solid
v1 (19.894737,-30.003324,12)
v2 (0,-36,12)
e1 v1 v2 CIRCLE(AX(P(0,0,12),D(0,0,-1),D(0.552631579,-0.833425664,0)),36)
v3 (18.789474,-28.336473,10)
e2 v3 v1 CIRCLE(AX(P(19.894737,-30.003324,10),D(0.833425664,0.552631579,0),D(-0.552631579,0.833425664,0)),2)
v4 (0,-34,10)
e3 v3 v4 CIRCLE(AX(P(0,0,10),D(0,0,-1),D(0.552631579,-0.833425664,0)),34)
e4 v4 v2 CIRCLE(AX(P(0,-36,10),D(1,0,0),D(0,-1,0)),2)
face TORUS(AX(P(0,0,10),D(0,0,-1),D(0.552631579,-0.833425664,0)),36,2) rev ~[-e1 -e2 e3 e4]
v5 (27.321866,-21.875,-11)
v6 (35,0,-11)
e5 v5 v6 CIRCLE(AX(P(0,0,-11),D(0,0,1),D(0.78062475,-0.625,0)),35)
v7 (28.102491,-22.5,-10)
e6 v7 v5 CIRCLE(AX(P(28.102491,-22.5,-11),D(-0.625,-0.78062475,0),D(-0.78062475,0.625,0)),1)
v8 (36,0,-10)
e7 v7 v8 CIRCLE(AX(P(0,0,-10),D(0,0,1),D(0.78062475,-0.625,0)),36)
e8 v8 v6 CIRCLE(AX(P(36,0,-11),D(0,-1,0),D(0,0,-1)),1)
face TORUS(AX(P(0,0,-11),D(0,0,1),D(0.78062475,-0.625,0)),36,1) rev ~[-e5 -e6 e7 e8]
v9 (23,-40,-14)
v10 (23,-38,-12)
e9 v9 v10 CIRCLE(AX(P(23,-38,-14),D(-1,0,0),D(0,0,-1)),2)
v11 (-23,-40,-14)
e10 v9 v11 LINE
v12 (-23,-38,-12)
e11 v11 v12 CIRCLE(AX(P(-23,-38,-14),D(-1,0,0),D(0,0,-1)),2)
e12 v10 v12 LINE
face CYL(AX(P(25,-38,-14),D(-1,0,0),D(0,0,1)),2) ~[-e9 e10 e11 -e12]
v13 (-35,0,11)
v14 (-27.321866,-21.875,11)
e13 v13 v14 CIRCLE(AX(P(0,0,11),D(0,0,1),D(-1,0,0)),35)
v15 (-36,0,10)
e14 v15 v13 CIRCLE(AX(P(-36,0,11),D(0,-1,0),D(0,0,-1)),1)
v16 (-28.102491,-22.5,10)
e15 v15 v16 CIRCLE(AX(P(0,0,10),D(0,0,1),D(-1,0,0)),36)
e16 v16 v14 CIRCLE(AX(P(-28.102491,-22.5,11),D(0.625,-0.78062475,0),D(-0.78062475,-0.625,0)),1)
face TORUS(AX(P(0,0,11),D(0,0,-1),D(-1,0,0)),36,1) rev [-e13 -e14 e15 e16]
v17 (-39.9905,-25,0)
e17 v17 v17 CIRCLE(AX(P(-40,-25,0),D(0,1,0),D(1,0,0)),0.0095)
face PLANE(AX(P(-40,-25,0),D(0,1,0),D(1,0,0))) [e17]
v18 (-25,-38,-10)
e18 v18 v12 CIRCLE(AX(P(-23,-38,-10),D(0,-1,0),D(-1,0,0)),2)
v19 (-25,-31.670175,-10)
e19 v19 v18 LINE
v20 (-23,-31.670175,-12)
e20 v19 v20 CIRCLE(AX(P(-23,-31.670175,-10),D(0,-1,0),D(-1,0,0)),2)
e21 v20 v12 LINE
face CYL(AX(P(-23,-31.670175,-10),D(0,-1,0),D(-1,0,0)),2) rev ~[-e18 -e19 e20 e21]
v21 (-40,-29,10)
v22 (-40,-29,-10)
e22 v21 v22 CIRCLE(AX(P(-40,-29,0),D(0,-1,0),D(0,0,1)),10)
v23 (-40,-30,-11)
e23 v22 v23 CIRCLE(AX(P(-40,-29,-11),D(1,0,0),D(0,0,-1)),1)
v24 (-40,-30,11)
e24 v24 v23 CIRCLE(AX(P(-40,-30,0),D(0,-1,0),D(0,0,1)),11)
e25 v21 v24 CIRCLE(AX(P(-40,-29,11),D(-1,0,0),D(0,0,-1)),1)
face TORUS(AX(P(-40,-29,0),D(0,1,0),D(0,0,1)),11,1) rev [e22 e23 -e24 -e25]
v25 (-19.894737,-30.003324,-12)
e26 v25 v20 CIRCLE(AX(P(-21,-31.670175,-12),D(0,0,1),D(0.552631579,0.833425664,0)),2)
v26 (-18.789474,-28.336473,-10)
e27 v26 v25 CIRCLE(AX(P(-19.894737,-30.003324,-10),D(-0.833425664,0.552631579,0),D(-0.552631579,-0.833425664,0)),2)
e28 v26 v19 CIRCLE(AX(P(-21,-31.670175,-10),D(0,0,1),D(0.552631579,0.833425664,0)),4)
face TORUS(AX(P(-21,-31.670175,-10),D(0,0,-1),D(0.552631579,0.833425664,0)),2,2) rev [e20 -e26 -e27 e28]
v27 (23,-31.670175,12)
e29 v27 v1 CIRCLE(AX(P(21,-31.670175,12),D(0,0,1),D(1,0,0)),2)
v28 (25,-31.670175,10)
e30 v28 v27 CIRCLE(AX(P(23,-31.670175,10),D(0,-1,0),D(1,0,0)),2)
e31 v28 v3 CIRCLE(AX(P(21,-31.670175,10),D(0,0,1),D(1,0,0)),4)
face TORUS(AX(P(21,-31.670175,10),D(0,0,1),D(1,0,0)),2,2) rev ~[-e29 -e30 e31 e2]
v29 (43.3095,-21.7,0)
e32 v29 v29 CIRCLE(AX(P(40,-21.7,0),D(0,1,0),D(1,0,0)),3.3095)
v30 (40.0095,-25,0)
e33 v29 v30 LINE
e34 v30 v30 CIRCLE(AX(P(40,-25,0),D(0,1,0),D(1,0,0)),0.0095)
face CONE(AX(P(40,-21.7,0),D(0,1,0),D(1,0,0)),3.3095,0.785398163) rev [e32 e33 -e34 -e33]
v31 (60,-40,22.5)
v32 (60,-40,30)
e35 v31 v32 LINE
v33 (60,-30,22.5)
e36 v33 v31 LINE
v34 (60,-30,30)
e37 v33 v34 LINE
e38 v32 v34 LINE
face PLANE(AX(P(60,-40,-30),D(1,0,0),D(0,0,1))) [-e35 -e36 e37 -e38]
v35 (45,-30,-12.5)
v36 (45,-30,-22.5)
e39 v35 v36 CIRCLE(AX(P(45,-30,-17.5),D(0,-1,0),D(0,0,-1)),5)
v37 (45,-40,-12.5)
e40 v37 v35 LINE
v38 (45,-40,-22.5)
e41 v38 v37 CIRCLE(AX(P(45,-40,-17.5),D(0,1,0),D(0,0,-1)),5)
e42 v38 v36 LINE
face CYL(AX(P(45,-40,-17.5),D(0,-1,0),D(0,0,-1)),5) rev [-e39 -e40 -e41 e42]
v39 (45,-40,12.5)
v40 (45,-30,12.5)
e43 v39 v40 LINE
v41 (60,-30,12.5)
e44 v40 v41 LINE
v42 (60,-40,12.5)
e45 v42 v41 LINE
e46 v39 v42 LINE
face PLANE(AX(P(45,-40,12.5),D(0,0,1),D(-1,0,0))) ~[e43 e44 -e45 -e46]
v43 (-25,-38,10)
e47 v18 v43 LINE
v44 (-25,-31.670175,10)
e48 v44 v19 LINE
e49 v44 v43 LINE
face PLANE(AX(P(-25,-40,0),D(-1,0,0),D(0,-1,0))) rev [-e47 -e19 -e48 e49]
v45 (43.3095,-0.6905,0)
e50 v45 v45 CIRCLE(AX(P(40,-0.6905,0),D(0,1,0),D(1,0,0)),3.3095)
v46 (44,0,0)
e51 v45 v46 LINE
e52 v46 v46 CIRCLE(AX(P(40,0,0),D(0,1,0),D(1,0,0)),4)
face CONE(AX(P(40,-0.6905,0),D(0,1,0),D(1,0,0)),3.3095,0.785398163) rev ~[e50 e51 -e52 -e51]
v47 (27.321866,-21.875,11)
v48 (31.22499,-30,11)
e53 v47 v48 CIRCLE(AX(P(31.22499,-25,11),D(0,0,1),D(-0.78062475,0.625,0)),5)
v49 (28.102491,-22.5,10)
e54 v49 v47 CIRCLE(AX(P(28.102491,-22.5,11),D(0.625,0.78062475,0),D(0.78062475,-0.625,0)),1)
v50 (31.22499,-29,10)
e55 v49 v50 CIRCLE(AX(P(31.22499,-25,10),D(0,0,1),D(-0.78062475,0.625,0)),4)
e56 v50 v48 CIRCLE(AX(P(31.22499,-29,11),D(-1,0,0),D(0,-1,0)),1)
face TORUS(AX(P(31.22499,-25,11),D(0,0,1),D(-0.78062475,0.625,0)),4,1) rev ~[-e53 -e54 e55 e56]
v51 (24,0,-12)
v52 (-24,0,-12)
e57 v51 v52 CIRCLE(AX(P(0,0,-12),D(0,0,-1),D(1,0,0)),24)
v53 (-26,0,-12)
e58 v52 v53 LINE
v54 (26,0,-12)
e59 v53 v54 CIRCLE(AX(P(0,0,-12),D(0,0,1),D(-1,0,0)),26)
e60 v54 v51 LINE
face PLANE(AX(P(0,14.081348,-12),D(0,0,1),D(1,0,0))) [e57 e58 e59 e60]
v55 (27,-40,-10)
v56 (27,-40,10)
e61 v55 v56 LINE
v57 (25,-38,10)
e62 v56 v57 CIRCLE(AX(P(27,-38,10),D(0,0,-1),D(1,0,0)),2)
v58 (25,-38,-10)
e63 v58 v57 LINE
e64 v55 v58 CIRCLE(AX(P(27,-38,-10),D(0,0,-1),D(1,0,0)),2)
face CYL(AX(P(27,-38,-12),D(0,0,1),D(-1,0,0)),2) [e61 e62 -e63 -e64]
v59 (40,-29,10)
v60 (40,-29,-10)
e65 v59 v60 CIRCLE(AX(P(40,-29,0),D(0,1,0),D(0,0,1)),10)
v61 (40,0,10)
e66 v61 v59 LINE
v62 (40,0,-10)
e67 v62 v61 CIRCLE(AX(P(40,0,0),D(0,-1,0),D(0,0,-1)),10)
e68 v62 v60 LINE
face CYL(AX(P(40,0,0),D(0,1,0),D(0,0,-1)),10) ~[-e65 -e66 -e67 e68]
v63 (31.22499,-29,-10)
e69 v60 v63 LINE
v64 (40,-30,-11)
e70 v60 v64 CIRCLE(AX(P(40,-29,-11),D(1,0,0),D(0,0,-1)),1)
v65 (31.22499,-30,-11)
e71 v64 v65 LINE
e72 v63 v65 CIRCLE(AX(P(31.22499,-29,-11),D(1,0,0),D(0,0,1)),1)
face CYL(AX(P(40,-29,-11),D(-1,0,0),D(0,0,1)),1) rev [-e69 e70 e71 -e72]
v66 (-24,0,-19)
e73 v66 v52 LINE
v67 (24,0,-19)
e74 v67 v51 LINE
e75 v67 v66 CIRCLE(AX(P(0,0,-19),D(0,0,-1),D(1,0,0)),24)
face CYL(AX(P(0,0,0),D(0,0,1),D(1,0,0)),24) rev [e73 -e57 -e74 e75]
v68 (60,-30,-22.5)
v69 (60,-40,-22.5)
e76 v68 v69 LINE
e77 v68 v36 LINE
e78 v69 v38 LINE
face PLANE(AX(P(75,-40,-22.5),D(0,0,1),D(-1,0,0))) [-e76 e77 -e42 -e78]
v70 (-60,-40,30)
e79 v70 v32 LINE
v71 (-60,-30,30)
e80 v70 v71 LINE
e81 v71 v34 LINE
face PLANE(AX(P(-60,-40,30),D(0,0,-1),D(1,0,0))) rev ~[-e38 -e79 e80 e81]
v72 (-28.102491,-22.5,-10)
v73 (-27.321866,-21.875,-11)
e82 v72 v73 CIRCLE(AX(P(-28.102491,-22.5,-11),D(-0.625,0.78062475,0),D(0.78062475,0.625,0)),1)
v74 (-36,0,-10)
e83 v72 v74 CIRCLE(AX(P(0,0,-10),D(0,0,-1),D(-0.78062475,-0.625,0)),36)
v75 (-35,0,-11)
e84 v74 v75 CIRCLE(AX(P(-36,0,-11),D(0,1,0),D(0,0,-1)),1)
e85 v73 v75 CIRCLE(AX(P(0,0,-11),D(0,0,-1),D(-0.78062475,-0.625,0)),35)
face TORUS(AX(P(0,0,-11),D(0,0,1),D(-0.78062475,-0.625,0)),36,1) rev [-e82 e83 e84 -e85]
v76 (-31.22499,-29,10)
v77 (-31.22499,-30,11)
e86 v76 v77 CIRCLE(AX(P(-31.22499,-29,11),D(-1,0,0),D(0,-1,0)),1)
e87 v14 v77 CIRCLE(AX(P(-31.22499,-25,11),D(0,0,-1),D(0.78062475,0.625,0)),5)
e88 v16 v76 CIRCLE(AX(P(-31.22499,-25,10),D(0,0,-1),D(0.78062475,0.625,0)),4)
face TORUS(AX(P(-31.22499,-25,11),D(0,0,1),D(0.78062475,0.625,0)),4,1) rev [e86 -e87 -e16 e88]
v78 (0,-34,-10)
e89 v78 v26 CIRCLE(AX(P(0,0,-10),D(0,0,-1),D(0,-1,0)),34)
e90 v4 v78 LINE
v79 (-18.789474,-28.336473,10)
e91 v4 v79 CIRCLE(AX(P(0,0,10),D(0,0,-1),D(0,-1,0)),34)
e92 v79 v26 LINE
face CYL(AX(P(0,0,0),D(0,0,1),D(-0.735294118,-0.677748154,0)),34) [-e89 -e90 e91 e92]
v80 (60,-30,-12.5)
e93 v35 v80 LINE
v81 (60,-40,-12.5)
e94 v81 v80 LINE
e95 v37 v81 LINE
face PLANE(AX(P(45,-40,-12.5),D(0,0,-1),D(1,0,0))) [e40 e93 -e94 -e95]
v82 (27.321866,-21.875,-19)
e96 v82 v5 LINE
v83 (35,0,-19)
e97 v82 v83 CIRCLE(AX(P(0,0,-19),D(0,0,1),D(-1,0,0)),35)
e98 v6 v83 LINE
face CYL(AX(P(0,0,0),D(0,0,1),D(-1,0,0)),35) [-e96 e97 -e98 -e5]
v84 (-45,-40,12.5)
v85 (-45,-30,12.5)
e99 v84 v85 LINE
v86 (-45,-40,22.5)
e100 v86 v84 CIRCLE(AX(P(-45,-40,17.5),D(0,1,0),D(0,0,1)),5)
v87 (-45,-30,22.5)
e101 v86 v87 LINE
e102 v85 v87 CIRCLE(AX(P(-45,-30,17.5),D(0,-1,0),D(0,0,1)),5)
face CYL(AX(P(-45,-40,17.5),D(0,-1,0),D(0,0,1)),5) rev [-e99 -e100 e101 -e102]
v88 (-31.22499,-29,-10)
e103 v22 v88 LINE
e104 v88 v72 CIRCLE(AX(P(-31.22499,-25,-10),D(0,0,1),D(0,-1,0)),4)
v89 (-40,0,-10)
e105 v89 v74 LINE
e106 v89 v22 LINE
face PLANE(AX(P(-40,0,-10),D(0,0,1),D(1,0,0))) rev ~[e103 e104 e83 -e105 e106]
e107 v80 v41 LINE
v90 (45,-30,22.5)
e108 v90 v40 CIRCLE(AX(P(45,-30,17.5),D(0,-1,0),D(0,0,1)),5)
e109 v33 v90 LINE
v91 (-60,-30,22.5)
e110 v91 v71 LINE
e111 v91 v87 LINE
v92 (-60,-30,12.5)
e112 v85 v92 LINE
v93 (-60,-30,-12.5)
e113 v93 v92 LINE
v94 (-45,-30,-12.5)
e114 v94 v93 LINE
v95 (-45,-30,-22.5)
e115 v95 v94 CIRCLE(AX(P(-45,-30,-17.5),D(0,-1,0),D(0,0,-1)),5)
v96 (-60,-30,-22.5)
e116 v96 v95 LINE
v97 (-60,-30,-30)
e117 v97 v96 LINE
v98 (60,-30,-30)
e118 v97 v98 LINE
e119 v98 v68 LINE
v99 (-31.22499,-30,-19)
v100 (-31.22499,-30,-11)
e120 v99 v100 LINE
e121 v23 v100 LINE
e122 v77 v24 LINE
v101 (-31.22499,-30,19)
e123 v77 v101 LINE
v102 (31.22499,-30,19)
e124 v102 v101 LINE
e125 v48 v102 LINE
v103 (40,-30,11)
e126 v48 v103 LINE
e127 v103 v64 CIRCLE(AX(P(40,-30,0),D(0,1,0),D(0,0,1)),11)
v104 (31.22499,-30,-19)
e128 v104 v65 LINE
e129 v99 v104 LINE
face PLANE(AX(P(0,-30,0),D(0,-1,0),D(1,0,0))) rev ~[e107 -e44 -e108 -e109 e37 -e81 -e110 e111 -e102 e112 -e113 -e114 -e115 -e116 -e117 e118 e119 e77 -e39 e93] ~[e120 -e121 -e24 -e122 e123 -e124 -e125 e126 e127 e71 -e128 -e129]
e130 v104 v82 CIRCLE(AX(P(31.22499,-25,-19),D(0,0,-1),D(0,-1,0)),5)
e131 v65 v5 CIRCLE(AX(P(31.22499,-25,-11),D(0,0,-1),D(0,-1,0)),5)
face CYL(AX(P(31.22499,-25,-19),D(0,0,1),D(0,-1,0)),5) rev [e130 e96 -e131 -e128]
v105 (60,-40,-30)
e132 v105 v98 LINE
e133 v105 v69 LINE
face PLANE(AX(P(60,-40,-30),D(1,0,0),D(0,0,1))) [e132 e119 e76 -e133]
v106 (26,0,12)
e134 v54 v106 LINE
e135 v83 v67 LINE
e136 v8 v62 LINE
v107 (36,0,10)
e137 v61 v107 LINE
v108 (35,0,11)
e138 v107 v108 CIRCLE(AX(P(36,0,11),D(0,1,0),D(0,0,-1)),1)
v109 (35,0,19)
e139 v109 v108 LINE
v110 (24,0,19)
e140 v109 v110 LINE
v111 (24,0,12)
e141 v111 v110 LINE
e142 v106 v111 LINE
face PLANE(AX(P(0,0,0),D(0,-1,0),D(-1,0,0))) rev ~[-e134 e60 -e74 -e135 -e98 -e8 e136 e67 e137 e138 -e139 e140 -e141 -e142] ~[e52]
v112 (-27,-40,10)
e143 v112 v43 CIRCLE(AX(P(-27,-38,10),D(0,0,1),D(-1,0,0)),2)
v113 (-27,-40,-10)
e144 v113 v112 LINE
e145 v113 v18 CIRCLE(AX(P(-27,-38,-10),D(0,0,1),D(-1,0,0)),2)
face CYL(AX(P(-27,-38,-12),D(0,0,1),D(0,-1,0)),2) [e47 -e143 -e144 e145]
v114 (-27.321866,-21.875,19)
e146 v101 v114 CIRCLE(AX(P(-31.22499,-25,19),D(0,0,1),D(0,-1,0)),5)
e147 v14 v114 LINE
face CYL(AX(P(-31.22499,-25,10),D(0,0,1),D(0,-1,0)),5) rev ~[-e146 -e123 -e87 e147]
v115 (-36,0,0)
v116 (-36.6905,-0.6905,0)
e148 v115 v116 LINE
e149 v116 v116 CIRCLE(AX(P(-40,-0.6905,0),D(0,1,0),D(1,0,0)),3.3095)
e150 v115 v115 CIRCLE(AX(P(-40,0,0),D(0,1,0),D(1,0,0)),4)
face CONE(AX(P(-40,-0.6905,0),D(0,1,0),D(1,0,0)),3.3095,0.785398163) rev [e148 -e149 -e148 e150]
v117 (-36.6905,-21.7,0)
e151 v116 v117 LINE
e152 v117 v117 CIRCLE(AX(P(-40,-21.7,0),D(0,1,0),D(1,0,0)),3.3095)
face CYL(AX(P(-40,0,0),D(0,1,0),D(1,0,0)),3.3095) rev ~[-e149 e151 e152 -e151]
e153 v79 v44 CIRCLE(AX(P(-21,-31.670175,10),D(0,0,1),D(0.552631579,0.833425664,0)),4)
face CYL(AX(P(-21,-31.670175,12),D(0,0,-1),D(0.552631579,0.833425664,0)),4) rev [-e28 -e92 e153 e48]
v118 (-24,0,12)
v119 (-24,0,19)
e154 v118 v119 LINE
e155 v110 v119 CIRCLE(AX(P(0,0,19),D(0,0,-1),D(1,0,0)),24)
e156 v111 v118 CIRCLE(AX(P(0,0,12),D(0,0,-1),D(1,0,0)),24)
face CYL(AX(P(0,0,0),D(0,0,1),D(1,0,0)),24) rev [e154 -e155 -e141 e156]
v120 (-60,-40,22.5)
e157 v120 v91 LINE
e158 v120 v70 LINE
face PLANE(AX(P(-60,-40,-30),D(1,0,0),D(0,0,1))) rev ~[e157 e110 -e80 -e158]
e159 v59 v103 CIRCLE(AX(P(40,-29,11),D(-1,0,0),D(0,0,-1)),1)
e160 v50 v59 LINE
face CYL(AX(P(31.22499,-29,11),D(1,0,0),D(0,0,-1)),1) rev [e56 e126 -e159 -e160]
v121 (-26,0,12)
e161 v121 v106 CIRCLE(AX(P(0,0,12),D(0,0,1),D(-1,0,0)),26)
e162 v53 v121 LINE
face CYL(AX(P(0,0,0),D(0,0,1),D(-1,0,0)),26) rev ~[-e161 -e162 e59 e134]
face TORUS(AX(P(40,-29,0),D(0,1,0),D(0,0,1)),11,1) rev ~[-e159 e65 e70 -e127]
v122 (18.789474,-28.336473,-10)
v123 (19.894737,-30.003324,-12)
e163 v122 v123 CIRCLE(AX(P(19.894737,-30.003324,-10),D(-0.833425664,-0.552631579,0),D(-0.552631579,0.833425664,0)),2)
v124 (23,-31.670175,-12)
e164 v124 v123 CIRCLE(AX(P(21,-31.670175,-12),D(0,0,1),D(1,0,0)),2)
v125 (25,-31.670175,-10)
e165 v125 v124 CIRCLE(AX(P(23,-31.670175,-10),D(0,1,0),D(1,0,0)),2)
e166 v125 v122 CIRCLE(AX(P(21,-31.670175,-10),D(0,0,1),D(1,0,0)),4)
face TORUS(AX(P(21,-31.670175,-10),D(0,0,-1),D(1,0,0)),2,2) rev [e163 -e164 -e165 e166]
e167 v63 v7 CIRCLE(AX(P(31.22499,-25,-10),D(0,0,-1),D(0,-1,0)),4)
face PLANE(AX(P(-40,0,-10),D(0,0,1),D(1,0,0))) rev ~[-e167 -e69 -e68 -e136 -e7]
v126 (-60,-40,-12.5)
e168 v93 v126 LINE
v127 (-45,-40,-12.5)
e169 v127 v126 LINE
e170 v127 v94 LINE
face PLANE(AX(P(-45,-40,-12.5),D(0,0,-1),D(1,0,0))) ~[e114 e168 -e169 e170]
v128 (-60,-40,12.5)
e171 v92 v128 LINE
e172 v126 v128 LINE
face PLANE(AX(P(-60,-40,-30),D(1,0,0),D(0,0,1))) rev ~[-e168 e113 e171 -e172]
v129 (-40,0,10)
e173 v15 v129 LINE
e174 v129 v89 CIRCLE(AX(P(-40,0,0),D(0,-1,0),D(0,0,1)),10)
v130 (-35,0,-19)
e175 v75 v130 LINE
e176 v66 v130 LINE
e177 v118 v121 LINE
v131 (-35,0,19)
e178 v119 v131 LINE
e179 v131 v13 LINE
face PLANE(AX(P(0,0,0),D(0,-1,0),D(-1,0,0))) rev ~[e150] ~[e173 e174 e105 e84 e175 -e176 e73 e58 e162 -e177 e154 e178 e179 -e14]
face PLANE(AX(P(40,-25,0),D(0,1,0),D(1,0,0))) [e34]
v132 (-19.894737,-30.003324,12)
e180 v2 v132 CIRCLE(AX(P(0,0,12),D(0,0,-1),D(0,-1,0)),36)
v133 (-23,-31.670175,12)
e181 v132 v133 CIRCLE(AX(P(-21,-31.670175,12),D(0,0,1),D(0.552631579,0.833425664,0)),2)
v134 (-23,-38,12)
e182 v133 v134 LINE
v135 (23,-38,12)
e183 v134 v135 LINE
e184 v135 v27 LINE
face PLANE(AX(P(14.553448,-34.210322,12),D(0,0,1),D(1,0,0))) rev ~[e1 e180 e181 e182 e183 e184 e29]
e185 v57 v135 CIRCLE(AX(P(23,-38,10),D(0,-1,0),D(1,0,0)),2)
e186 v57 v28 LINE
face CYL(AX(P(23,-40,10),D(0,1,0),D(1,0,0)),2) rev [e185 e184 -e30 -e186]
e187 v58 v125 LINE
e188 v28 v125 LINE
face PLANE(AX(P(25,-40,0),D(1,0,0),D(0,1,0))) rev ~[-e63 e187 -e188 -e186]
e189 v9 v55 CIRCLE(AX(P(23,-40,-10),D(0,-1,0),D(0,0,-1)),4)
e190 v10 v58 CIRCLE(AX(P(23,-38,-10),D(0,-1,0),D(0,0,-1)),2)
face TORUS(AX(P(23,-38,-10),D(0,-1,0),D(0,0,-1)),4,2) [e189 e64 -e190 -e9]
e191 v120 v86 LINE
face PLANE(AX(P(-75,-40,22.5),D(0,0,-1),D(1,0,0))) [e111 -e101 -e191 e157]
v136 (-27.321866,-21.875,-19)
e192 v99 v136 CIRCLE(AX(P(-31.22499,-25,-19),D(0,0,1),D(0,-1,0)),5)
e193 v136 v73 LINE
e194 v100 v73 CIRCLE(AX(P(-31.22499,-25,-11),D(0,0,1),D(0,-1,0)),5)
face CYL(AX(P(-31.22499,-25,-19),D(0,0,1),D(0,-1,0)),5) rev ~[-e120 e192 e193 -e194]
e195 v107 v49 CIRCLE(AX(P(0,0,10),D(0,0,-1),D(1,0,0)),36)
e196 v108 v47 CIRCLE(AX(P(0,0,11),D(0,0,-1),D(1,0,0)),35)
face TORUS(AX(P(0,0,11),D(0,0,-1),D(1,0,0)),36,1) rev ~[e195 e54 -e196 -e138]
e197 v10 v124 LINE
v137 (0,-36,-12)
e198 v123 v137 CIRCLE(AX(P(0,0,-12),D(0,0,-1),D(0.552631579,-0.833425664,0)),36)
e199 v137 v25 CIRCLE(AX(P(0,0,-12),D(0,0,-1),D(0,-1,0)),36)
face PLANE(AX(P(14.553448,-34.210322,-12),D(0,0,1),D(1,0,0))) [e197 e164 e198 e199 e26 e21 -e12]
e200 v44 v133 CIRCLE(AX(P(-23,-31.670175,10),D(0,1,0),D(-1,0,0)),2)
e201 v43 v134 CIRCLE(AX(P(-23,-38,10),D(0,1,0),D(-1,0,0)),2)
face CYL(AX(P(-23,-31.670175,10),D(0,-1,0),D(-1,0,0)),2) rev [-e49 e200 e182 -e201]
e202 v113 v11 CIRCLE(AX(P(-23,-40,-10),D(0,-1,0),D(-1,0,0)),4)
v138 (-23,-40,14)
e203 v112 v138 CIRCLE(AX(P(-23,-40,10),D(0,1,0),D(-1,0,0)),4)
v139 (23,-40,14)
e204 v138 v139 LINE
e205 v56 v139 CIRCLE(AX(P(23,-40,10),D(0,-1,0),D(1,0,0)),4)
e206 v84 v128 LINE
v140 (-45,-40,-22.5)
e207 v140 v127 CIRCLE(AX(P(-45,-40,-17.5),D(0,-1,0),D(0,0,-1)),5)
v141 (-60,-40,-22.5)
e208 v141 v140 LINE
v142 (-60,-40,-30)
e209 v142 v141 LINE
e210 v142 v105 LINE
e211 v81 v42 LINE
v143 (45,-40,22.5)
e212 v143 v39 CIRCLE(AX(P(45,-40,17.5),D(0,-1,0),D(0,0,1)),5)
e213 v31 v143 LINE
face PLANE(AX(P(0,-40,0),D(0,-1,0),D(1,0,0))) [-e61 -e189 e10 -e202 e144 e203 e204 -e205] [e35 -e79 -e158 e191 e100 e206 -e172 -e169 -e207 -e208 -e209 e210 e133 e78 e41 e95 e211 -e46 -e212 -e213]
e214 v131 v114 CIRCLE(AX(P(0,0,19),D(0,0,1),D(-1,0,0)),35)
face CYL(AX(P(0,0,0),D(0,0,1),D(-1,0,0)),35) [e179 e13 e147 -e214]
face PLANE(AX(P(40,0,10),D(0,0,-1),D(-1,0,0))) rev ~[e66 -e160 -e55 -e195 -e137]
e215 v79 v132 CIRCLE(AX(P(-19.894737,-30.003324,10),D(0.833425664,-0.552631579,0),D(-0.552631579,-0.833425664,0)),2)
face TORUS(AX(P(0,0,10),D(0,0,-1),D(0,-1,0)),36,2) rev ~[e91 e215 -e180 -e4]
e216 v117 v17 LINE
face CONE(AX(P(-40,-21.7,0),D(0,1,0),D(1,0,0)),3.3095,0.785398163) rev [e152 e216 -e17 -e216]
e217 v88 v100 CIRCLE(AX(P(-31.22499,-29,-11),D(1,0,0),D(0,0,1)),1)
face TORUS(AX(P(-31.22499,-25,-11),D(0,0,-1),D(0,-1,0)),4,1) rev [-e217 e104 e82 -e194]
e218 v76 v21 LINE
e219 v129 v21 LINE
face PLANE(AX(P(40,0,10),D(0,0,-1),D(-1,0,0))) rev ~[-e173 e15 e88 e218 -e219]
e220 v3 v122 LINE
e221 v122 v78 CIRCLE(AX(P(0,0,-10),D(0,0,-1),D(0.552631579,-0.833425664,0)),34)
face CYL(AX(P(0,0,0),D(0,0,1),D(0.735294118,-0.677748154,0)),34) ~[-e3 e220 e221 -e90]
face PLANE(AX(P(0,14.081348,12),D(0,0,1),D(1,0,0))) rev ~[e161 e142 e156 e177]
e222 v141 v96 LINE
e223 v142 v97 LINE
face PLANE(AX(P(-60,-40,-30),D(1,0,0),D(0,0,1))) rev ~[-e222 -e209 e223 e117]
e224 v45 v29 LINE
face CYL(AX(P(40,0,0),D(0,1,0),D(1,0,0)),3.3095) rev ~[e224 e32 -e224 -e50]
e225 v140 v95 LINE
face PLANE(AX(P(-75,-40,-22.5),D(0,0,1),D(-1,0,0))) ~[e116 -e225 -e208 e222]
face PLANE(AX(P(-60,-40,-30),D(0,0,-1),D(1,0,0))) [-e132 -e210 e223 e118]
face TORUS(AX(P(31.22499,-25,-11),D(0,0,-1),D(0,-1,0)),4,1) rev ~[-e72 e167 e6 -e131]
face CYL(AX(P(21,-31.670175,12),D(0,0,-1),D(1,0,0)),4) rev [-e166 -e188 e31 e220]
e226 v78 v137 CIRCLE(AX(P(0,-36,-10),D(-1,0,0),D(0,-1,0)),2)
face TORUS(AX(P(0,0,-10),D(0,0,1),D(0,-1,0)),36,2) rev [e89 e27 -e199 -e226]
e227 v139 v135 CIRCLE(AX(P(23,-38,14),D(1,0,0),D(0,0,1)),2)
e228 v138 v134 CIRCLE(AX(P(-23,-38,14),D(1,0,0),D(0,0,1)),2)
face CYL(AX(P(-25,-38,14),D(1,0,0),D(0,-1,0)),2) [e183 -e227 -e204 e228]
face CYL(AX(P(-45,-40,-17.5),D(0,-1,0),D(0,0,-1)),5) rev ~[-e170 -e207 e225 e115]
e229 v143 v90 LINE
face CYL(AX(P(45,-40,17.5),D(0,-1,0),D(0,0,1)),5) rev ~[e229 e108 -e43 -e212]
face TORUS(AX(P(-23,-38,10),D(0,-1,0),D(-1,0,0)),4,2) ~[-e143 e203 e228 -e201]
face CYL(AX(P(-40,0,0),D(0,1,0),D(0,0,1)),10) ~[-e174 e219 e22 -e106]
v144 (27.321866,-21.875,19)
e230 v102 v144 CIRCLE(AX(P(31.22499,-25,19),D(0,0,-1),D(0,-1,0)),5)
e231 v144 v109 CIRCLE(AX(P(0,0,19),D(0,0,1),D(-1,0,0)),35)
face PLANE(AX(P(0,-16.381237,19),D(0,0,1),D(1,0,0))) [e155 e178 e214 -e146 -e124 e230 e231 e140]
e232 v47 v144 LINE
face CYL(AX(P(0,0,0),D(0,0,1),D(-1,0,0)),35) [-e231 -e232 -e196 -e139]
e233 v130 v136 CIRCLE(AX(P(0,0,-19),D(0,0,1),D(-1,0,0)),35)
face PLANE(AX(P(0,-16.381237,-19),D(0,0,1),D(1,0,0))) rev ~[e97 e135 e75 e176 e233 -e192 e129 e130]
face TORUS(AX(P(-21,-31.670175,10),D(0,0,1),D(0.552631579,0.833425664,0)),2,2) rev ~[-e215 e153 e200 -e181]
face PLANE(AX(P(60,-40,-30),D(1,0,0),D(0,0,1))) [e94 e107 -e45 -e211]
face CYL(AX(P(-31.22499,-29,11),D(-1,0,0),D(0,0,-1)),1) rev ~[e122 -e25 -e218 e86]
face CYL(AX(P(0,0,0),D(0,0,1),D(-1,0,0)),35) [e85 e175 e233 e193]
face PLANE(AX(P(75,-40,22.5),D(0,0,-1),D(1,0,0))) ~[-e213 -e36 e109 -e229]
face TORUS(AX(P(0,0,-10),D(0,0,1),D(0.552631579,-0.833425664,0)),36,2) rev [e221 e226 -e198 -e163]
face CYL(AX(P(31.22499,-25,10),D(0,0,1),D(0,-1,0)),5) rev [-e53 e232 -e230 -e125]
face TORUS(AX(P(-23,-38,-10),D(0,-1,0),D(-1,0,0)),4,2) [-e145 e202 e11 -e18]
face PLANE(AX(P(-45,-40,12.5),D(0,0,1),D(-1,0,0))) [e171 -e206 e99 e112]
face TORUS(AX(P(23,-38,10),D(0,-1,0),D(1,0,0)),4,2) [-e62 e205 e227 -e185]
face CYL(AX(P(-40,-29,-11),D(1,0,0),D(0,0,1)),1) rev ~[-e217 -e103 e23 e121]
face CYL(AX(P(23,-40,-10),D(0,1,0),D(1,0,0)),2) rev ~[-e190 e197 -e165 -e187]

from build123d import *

# Parameters (mm, degrees)
EXTRUDE_2_DEPTH                 = 19
EXTRUDE_5_DEPTH                 = 40
CUT_EXTRUDE_1_REACH             = 68.791
SKETCH_1_4_R                    = 24
CUT_EXTRUDE_1_DIRECTION_2_REACH = 68.791
SKETCH_4_W                      = 120
SKETCH_4_H                      = 60
EXTRUDE_6_DEPTH                 = 10
FILLET_2_R                      = 5
CUT_EXTRUDE_2_DEPTH             = 79.102496759
MIRROR_2_COPY_1_DEPTH           = 79.102496759
MIRROR_2_COPY_2_DEPTH           = 79.102496759
CUT_EXTRUDE_3_DEPTH             = 12
CUT_EXTRUDE_4_DEPTH             = 12
FILLET_3_R                      = 4
FILLET_4_R                      = 2
SKETCH_7_R                      = 3.3095
CUT_EXTRUDE_5_DEPTH             = 25
FILLET_5_R                      = 1
CHAMFER_1_SIZE                  = 3.3
CHAMFER_2_SIZE                  = 0.6905


with BuildPart() as part:
    # Эскиз1 → Бобышка-Вытянуть2 (new, symmetric)
    with BuildSketch(Plane.XY):
        with BuildLine():
            ThreePointArc((24, 0), (0, -24), (-24, 0))
            Line((-24, 0), (-35, 0))
            ThreePointArc((-35, 0), (0, -35), (35, 0))
            Line((35, 0), (24, 0))
        make_face()
    extrude(amount=EXTRUDE_2_DEPTH, both=True)

    # Эскиз2 → Бобышка-Вытянуть5 (add)
    with BuildSketch(Plane(origin=(0, 0, 0), x_dir=(1, 0, 0), z_dir=(0, 1, 0))):
        with BuildLine():
            Line((-40, 10), (40, 10))
            ThreePointArc((40, 10), (50, 0), (40, -10))
            Line((40, -10), (-40, -10))
            ThreePointArc((-40, -10), (-50, 0), (-40, 10))
        make_face()
    extrude(amount=-EXTRUDE_5_DEPTH)

    # Эскиз1<4> → Вырез-Вытянуть1 (cut, up to next)
    with BuildSketch(Plane.XY, mode=Mode.PRIVATE) as cut_extrude_1_sk1:
        Circle(SKETCH_1_4_R)
    cut_extrude_1_tool1 = extrude(cut_extrude_1_sk1.sketch, amount=-CUT_EXTRUDE_1_REACH, mode=Mode.PRIVATE) & part.part
    add(cut_extrude_1_tool1.solids().sort_by_distance((0, 0, 0))[0], mode=Mode.SUBTRACT)

    # Эскиз1<4> → Вырез-Вытянуть1 direction 2 (cut, up to next)
    with BuildSketch(Plane.XY, mode=Mode.PRIVATE) as cut_extrude_1_direction_2_sk1:
        Circle(SKETCH_1_4_R)
    cut_extrude_1_direction_2_tool1 = extrude(cut_extrude_1_direction_2_sk1.sketch, amount=CUT_EXTRUDE_1_DIRECTION_2_REACH, mode=Mode.PRIVATE) & part.part
    add(cut_extrude_1_direction_2_tool1.solids().sort_by_distance((0, 0, 0))[0], mode=Mode.SUBTRACT)

    # Эскиз4 → Бобышка-Вытянуть6 (add)
    with BuildSketch(Plane.XZ.offset(40)):
        Rectangle(SKETCH_4_W, SKETCH_4_H)
    extrude(amount=-EXTRUDE_6_DEPTH)

    # Скругление2
    fillet_2_edges = [part.edges().sort_by_distance(p)[0] for p in [
        (18.027756377, -30, 14.5),
        (18.027756377, -30, -14.5),
        (-18.027756377, -30, -14.5),
        (-18.027756377, -30, 14.5),
    ]]
    fillet(fillet_2_edges, radius=FILLET_2_R)

    # Эскиз5 → Вырез-Вытянуть2 (cut, through all)
    with BuildSketch(Plane.XZ.offset(40)):
        with BuildLine():
            Line((75, -22.5), (45, -22.5))
            ThreePointArc((45, -22.5), (40, -17.5), (45, -12.5))
            Line((45, -12.5), (75, -12.5))
            ThreePointArc((75, -12.5), (80, -17.5), (75, -22.5))
        make_face()
    cut_extrude_2 = extrude(amount=-CUT_EXTRUDE_2_DEPTH, mode=Mode.SUBTRACT)

    # Зеркальное отражение1: Вырез-Вытянуть2 across plane
    add(cut_extrude_2.mirror(Plane.XY), mode=Mode.SUBTRACT)

    # Зеркальное отражение2 copy 1 sketch → Зеркальное отражение2 copy 1 (cut, through all)
    with BuildSketch(Plane(origin=(0, -40, 0), x_dir=(-1, 0, 0), z_dir=(0, -1, 0))):
        with BuildLine():
            Line((75, -22.5), (45, -22.5))
            ThreePointArc((45, -22.5), (40, -17.5), (45, -12.5))
            Line((45, -12.5), (75, -12.5))
            ThreePointArc((75, -12.5), (80, -17.5), (75, -22.5))
        make_face()
    extrude(amount=-MIRROR_2_COPY_1_DEPTH, mode=Mode.SUBTRACT)

    # Зеркальное отражение2 copy 2 sketch → Зеркальное отражение2 copy 2 (cut, through all)
    with BuildSketch(Plane(origin=(0, -40, 0), x_dir=(-1, 0, 0), z_dir=(0, -1, 0))):
        with BuildLine():
            Line((75, 22.5), (45, 22.5))
            ThreePointArc((45, 22.5), (40, 17.5), (45, 12.5))
            Line((45, 12.5), (75, 12.5))
            ThreePointArc((75, 12.5), (80, 17.5), (75, 22.5))
        make_face()
    extrude(amount=-MIRROR_2_COPY_2_DEPTH, mode=Mode.SUBTRACT)

    # Эскиз1<5> → Вырез-Вытянуть3 (cut, symmetric)
    with BuildSketch(Plane.XY):
        with BuildLine():
            Line((26, 0), (24, 0))
            ThreePointArc((24, 0), (0, -24), (-24, 0))
            Line((-24, 0), (-26, 0))
            ThreePointArc((-26, 0), (0, -26), (26, 0))
        make_face()
    extrude(amount=CUT_EXTRUDE_3_DEPTH, both=True, mode=Mode.SUBTRACT)

    # Эскиз6 → Вырез-Вытянуть4 (cut, symmetric)
    with BuildSketch(Plane.XY):
        with BuildLine():
            Line((0, -34), (0, -40))
            Line((0, -40), (25, -40))
            Line((25, -40), (25, -23.043437244))
            ThreePointArc((25, -23.043437244), (13.647767834, -31.140623519), (0, -34))
        make_face()
    cut_extrude_4 = extrude(amount=CUT_EXTRUDE_4_DEPTH, both=True, mode=Mode.SUBTRACT)

    # Зеркальное отражение3: Вырез-Вытянуть4 across plane
    add(cut_extrude_4.mirror(Plane(origin=(0, -34, -12), x_dir=(0, 0, 1), z_dir=(-1, 0, 0))), mode=Mode.SUBTRACT)

    # Скругление3
    fillet_3_edges = [part.edges().sort_by_distance(p)[0] for p in [
        (25, -23.043437244, 0),
        (-25, -23.043437244, 0),
    ]]
    fillet(fillet_3_edges, radius=FILLET_3_R)

    # Скругление4
    fillet_4_edges = [part.edges().sort_by_distance(p)[0] for p in [
        (-25, -35.835087622, 12),
        (-22.891810606, -28.145823867, 12),
        (25, -35.835087622, 12),
        (22.891810606, -28.145823867, 12),
        (-25, -35.835087622, -12),
        (-22.891810606, -28.145823867, -12),
        (25, -35.835087622, -12),
        (22.891810606, -28.145823867, -12),
        (0, -34, 12),
        (0, -34, -12),
        (0, -40, 12),
        (-25, -40, 0),
        (25, -40, 0),
        (0, -40, -12),
    ]]
    fillet(fillet_4_edges, radius=FILLET_4_R)

    # Эскиз7 → Вырез-Вытянуть5 (cut)
    with BuildSketch(Plane(origin=(0, 0, 0), x_dir=(1, 0, 0), z_dir=(0, 1, 0))):
        with Locations((-40, 0)):
            Circle(SKETCH_7_R)
        with Locations((40, 0)):
            Circle(SKETCH_7_R)
    extrude(amount=-CUT_EXTRUDE_5_DEPTH, mode=Mode.SUBTRACT)

    # Скругление5
    fillet_5_edges = [part.edges().sort_by_distance(p)[0] for p in [
        (33.024727997, -11.591692747, -10),
        (26.718050898, -27.165063509, -10),
        (35.612494996, -30, -10),
        (50, -30, 0),
        (35.612494996, -30, 10),
        (26.718050898, -27.165063509, 10),
        (-33.024727997, -11.591692747, 10),
        (-26.718050898, -27.165063509, 10),
        (-33.024727997, -11.591692747, -10),
        (-26.718050898, -27.165063509, -10),
        (-35.612494996, -30, -10),
        (-50, -30, 0),
        (33.024727997, -11.591692747, 10),
        (-35.612494996, -30, 10),
    ]]
    fillet(fillet_5_edges, radius=FILLET_5_R)

    # Фаска1
    chamfer_1_edges = [part.edges().sort_by_distance(p)[0] for p in [
        (36.6905, -25, 0),
        (-43.3095, -25, 0),
    ]]
    chamfer(chamfer_1_edges, length=CHAMFER_1_SIZE)

    # Фаска2
    chamfer_2_edges = [part.edges().sort_by_distance(p)[0] for p in [
        (36.6905, 0, 0),
        (-43.3095, 0, 0),
    ]]
    chamfer(chamfer_2_edges, length=CHAMFER_2_SIZE)


solid = part.part
